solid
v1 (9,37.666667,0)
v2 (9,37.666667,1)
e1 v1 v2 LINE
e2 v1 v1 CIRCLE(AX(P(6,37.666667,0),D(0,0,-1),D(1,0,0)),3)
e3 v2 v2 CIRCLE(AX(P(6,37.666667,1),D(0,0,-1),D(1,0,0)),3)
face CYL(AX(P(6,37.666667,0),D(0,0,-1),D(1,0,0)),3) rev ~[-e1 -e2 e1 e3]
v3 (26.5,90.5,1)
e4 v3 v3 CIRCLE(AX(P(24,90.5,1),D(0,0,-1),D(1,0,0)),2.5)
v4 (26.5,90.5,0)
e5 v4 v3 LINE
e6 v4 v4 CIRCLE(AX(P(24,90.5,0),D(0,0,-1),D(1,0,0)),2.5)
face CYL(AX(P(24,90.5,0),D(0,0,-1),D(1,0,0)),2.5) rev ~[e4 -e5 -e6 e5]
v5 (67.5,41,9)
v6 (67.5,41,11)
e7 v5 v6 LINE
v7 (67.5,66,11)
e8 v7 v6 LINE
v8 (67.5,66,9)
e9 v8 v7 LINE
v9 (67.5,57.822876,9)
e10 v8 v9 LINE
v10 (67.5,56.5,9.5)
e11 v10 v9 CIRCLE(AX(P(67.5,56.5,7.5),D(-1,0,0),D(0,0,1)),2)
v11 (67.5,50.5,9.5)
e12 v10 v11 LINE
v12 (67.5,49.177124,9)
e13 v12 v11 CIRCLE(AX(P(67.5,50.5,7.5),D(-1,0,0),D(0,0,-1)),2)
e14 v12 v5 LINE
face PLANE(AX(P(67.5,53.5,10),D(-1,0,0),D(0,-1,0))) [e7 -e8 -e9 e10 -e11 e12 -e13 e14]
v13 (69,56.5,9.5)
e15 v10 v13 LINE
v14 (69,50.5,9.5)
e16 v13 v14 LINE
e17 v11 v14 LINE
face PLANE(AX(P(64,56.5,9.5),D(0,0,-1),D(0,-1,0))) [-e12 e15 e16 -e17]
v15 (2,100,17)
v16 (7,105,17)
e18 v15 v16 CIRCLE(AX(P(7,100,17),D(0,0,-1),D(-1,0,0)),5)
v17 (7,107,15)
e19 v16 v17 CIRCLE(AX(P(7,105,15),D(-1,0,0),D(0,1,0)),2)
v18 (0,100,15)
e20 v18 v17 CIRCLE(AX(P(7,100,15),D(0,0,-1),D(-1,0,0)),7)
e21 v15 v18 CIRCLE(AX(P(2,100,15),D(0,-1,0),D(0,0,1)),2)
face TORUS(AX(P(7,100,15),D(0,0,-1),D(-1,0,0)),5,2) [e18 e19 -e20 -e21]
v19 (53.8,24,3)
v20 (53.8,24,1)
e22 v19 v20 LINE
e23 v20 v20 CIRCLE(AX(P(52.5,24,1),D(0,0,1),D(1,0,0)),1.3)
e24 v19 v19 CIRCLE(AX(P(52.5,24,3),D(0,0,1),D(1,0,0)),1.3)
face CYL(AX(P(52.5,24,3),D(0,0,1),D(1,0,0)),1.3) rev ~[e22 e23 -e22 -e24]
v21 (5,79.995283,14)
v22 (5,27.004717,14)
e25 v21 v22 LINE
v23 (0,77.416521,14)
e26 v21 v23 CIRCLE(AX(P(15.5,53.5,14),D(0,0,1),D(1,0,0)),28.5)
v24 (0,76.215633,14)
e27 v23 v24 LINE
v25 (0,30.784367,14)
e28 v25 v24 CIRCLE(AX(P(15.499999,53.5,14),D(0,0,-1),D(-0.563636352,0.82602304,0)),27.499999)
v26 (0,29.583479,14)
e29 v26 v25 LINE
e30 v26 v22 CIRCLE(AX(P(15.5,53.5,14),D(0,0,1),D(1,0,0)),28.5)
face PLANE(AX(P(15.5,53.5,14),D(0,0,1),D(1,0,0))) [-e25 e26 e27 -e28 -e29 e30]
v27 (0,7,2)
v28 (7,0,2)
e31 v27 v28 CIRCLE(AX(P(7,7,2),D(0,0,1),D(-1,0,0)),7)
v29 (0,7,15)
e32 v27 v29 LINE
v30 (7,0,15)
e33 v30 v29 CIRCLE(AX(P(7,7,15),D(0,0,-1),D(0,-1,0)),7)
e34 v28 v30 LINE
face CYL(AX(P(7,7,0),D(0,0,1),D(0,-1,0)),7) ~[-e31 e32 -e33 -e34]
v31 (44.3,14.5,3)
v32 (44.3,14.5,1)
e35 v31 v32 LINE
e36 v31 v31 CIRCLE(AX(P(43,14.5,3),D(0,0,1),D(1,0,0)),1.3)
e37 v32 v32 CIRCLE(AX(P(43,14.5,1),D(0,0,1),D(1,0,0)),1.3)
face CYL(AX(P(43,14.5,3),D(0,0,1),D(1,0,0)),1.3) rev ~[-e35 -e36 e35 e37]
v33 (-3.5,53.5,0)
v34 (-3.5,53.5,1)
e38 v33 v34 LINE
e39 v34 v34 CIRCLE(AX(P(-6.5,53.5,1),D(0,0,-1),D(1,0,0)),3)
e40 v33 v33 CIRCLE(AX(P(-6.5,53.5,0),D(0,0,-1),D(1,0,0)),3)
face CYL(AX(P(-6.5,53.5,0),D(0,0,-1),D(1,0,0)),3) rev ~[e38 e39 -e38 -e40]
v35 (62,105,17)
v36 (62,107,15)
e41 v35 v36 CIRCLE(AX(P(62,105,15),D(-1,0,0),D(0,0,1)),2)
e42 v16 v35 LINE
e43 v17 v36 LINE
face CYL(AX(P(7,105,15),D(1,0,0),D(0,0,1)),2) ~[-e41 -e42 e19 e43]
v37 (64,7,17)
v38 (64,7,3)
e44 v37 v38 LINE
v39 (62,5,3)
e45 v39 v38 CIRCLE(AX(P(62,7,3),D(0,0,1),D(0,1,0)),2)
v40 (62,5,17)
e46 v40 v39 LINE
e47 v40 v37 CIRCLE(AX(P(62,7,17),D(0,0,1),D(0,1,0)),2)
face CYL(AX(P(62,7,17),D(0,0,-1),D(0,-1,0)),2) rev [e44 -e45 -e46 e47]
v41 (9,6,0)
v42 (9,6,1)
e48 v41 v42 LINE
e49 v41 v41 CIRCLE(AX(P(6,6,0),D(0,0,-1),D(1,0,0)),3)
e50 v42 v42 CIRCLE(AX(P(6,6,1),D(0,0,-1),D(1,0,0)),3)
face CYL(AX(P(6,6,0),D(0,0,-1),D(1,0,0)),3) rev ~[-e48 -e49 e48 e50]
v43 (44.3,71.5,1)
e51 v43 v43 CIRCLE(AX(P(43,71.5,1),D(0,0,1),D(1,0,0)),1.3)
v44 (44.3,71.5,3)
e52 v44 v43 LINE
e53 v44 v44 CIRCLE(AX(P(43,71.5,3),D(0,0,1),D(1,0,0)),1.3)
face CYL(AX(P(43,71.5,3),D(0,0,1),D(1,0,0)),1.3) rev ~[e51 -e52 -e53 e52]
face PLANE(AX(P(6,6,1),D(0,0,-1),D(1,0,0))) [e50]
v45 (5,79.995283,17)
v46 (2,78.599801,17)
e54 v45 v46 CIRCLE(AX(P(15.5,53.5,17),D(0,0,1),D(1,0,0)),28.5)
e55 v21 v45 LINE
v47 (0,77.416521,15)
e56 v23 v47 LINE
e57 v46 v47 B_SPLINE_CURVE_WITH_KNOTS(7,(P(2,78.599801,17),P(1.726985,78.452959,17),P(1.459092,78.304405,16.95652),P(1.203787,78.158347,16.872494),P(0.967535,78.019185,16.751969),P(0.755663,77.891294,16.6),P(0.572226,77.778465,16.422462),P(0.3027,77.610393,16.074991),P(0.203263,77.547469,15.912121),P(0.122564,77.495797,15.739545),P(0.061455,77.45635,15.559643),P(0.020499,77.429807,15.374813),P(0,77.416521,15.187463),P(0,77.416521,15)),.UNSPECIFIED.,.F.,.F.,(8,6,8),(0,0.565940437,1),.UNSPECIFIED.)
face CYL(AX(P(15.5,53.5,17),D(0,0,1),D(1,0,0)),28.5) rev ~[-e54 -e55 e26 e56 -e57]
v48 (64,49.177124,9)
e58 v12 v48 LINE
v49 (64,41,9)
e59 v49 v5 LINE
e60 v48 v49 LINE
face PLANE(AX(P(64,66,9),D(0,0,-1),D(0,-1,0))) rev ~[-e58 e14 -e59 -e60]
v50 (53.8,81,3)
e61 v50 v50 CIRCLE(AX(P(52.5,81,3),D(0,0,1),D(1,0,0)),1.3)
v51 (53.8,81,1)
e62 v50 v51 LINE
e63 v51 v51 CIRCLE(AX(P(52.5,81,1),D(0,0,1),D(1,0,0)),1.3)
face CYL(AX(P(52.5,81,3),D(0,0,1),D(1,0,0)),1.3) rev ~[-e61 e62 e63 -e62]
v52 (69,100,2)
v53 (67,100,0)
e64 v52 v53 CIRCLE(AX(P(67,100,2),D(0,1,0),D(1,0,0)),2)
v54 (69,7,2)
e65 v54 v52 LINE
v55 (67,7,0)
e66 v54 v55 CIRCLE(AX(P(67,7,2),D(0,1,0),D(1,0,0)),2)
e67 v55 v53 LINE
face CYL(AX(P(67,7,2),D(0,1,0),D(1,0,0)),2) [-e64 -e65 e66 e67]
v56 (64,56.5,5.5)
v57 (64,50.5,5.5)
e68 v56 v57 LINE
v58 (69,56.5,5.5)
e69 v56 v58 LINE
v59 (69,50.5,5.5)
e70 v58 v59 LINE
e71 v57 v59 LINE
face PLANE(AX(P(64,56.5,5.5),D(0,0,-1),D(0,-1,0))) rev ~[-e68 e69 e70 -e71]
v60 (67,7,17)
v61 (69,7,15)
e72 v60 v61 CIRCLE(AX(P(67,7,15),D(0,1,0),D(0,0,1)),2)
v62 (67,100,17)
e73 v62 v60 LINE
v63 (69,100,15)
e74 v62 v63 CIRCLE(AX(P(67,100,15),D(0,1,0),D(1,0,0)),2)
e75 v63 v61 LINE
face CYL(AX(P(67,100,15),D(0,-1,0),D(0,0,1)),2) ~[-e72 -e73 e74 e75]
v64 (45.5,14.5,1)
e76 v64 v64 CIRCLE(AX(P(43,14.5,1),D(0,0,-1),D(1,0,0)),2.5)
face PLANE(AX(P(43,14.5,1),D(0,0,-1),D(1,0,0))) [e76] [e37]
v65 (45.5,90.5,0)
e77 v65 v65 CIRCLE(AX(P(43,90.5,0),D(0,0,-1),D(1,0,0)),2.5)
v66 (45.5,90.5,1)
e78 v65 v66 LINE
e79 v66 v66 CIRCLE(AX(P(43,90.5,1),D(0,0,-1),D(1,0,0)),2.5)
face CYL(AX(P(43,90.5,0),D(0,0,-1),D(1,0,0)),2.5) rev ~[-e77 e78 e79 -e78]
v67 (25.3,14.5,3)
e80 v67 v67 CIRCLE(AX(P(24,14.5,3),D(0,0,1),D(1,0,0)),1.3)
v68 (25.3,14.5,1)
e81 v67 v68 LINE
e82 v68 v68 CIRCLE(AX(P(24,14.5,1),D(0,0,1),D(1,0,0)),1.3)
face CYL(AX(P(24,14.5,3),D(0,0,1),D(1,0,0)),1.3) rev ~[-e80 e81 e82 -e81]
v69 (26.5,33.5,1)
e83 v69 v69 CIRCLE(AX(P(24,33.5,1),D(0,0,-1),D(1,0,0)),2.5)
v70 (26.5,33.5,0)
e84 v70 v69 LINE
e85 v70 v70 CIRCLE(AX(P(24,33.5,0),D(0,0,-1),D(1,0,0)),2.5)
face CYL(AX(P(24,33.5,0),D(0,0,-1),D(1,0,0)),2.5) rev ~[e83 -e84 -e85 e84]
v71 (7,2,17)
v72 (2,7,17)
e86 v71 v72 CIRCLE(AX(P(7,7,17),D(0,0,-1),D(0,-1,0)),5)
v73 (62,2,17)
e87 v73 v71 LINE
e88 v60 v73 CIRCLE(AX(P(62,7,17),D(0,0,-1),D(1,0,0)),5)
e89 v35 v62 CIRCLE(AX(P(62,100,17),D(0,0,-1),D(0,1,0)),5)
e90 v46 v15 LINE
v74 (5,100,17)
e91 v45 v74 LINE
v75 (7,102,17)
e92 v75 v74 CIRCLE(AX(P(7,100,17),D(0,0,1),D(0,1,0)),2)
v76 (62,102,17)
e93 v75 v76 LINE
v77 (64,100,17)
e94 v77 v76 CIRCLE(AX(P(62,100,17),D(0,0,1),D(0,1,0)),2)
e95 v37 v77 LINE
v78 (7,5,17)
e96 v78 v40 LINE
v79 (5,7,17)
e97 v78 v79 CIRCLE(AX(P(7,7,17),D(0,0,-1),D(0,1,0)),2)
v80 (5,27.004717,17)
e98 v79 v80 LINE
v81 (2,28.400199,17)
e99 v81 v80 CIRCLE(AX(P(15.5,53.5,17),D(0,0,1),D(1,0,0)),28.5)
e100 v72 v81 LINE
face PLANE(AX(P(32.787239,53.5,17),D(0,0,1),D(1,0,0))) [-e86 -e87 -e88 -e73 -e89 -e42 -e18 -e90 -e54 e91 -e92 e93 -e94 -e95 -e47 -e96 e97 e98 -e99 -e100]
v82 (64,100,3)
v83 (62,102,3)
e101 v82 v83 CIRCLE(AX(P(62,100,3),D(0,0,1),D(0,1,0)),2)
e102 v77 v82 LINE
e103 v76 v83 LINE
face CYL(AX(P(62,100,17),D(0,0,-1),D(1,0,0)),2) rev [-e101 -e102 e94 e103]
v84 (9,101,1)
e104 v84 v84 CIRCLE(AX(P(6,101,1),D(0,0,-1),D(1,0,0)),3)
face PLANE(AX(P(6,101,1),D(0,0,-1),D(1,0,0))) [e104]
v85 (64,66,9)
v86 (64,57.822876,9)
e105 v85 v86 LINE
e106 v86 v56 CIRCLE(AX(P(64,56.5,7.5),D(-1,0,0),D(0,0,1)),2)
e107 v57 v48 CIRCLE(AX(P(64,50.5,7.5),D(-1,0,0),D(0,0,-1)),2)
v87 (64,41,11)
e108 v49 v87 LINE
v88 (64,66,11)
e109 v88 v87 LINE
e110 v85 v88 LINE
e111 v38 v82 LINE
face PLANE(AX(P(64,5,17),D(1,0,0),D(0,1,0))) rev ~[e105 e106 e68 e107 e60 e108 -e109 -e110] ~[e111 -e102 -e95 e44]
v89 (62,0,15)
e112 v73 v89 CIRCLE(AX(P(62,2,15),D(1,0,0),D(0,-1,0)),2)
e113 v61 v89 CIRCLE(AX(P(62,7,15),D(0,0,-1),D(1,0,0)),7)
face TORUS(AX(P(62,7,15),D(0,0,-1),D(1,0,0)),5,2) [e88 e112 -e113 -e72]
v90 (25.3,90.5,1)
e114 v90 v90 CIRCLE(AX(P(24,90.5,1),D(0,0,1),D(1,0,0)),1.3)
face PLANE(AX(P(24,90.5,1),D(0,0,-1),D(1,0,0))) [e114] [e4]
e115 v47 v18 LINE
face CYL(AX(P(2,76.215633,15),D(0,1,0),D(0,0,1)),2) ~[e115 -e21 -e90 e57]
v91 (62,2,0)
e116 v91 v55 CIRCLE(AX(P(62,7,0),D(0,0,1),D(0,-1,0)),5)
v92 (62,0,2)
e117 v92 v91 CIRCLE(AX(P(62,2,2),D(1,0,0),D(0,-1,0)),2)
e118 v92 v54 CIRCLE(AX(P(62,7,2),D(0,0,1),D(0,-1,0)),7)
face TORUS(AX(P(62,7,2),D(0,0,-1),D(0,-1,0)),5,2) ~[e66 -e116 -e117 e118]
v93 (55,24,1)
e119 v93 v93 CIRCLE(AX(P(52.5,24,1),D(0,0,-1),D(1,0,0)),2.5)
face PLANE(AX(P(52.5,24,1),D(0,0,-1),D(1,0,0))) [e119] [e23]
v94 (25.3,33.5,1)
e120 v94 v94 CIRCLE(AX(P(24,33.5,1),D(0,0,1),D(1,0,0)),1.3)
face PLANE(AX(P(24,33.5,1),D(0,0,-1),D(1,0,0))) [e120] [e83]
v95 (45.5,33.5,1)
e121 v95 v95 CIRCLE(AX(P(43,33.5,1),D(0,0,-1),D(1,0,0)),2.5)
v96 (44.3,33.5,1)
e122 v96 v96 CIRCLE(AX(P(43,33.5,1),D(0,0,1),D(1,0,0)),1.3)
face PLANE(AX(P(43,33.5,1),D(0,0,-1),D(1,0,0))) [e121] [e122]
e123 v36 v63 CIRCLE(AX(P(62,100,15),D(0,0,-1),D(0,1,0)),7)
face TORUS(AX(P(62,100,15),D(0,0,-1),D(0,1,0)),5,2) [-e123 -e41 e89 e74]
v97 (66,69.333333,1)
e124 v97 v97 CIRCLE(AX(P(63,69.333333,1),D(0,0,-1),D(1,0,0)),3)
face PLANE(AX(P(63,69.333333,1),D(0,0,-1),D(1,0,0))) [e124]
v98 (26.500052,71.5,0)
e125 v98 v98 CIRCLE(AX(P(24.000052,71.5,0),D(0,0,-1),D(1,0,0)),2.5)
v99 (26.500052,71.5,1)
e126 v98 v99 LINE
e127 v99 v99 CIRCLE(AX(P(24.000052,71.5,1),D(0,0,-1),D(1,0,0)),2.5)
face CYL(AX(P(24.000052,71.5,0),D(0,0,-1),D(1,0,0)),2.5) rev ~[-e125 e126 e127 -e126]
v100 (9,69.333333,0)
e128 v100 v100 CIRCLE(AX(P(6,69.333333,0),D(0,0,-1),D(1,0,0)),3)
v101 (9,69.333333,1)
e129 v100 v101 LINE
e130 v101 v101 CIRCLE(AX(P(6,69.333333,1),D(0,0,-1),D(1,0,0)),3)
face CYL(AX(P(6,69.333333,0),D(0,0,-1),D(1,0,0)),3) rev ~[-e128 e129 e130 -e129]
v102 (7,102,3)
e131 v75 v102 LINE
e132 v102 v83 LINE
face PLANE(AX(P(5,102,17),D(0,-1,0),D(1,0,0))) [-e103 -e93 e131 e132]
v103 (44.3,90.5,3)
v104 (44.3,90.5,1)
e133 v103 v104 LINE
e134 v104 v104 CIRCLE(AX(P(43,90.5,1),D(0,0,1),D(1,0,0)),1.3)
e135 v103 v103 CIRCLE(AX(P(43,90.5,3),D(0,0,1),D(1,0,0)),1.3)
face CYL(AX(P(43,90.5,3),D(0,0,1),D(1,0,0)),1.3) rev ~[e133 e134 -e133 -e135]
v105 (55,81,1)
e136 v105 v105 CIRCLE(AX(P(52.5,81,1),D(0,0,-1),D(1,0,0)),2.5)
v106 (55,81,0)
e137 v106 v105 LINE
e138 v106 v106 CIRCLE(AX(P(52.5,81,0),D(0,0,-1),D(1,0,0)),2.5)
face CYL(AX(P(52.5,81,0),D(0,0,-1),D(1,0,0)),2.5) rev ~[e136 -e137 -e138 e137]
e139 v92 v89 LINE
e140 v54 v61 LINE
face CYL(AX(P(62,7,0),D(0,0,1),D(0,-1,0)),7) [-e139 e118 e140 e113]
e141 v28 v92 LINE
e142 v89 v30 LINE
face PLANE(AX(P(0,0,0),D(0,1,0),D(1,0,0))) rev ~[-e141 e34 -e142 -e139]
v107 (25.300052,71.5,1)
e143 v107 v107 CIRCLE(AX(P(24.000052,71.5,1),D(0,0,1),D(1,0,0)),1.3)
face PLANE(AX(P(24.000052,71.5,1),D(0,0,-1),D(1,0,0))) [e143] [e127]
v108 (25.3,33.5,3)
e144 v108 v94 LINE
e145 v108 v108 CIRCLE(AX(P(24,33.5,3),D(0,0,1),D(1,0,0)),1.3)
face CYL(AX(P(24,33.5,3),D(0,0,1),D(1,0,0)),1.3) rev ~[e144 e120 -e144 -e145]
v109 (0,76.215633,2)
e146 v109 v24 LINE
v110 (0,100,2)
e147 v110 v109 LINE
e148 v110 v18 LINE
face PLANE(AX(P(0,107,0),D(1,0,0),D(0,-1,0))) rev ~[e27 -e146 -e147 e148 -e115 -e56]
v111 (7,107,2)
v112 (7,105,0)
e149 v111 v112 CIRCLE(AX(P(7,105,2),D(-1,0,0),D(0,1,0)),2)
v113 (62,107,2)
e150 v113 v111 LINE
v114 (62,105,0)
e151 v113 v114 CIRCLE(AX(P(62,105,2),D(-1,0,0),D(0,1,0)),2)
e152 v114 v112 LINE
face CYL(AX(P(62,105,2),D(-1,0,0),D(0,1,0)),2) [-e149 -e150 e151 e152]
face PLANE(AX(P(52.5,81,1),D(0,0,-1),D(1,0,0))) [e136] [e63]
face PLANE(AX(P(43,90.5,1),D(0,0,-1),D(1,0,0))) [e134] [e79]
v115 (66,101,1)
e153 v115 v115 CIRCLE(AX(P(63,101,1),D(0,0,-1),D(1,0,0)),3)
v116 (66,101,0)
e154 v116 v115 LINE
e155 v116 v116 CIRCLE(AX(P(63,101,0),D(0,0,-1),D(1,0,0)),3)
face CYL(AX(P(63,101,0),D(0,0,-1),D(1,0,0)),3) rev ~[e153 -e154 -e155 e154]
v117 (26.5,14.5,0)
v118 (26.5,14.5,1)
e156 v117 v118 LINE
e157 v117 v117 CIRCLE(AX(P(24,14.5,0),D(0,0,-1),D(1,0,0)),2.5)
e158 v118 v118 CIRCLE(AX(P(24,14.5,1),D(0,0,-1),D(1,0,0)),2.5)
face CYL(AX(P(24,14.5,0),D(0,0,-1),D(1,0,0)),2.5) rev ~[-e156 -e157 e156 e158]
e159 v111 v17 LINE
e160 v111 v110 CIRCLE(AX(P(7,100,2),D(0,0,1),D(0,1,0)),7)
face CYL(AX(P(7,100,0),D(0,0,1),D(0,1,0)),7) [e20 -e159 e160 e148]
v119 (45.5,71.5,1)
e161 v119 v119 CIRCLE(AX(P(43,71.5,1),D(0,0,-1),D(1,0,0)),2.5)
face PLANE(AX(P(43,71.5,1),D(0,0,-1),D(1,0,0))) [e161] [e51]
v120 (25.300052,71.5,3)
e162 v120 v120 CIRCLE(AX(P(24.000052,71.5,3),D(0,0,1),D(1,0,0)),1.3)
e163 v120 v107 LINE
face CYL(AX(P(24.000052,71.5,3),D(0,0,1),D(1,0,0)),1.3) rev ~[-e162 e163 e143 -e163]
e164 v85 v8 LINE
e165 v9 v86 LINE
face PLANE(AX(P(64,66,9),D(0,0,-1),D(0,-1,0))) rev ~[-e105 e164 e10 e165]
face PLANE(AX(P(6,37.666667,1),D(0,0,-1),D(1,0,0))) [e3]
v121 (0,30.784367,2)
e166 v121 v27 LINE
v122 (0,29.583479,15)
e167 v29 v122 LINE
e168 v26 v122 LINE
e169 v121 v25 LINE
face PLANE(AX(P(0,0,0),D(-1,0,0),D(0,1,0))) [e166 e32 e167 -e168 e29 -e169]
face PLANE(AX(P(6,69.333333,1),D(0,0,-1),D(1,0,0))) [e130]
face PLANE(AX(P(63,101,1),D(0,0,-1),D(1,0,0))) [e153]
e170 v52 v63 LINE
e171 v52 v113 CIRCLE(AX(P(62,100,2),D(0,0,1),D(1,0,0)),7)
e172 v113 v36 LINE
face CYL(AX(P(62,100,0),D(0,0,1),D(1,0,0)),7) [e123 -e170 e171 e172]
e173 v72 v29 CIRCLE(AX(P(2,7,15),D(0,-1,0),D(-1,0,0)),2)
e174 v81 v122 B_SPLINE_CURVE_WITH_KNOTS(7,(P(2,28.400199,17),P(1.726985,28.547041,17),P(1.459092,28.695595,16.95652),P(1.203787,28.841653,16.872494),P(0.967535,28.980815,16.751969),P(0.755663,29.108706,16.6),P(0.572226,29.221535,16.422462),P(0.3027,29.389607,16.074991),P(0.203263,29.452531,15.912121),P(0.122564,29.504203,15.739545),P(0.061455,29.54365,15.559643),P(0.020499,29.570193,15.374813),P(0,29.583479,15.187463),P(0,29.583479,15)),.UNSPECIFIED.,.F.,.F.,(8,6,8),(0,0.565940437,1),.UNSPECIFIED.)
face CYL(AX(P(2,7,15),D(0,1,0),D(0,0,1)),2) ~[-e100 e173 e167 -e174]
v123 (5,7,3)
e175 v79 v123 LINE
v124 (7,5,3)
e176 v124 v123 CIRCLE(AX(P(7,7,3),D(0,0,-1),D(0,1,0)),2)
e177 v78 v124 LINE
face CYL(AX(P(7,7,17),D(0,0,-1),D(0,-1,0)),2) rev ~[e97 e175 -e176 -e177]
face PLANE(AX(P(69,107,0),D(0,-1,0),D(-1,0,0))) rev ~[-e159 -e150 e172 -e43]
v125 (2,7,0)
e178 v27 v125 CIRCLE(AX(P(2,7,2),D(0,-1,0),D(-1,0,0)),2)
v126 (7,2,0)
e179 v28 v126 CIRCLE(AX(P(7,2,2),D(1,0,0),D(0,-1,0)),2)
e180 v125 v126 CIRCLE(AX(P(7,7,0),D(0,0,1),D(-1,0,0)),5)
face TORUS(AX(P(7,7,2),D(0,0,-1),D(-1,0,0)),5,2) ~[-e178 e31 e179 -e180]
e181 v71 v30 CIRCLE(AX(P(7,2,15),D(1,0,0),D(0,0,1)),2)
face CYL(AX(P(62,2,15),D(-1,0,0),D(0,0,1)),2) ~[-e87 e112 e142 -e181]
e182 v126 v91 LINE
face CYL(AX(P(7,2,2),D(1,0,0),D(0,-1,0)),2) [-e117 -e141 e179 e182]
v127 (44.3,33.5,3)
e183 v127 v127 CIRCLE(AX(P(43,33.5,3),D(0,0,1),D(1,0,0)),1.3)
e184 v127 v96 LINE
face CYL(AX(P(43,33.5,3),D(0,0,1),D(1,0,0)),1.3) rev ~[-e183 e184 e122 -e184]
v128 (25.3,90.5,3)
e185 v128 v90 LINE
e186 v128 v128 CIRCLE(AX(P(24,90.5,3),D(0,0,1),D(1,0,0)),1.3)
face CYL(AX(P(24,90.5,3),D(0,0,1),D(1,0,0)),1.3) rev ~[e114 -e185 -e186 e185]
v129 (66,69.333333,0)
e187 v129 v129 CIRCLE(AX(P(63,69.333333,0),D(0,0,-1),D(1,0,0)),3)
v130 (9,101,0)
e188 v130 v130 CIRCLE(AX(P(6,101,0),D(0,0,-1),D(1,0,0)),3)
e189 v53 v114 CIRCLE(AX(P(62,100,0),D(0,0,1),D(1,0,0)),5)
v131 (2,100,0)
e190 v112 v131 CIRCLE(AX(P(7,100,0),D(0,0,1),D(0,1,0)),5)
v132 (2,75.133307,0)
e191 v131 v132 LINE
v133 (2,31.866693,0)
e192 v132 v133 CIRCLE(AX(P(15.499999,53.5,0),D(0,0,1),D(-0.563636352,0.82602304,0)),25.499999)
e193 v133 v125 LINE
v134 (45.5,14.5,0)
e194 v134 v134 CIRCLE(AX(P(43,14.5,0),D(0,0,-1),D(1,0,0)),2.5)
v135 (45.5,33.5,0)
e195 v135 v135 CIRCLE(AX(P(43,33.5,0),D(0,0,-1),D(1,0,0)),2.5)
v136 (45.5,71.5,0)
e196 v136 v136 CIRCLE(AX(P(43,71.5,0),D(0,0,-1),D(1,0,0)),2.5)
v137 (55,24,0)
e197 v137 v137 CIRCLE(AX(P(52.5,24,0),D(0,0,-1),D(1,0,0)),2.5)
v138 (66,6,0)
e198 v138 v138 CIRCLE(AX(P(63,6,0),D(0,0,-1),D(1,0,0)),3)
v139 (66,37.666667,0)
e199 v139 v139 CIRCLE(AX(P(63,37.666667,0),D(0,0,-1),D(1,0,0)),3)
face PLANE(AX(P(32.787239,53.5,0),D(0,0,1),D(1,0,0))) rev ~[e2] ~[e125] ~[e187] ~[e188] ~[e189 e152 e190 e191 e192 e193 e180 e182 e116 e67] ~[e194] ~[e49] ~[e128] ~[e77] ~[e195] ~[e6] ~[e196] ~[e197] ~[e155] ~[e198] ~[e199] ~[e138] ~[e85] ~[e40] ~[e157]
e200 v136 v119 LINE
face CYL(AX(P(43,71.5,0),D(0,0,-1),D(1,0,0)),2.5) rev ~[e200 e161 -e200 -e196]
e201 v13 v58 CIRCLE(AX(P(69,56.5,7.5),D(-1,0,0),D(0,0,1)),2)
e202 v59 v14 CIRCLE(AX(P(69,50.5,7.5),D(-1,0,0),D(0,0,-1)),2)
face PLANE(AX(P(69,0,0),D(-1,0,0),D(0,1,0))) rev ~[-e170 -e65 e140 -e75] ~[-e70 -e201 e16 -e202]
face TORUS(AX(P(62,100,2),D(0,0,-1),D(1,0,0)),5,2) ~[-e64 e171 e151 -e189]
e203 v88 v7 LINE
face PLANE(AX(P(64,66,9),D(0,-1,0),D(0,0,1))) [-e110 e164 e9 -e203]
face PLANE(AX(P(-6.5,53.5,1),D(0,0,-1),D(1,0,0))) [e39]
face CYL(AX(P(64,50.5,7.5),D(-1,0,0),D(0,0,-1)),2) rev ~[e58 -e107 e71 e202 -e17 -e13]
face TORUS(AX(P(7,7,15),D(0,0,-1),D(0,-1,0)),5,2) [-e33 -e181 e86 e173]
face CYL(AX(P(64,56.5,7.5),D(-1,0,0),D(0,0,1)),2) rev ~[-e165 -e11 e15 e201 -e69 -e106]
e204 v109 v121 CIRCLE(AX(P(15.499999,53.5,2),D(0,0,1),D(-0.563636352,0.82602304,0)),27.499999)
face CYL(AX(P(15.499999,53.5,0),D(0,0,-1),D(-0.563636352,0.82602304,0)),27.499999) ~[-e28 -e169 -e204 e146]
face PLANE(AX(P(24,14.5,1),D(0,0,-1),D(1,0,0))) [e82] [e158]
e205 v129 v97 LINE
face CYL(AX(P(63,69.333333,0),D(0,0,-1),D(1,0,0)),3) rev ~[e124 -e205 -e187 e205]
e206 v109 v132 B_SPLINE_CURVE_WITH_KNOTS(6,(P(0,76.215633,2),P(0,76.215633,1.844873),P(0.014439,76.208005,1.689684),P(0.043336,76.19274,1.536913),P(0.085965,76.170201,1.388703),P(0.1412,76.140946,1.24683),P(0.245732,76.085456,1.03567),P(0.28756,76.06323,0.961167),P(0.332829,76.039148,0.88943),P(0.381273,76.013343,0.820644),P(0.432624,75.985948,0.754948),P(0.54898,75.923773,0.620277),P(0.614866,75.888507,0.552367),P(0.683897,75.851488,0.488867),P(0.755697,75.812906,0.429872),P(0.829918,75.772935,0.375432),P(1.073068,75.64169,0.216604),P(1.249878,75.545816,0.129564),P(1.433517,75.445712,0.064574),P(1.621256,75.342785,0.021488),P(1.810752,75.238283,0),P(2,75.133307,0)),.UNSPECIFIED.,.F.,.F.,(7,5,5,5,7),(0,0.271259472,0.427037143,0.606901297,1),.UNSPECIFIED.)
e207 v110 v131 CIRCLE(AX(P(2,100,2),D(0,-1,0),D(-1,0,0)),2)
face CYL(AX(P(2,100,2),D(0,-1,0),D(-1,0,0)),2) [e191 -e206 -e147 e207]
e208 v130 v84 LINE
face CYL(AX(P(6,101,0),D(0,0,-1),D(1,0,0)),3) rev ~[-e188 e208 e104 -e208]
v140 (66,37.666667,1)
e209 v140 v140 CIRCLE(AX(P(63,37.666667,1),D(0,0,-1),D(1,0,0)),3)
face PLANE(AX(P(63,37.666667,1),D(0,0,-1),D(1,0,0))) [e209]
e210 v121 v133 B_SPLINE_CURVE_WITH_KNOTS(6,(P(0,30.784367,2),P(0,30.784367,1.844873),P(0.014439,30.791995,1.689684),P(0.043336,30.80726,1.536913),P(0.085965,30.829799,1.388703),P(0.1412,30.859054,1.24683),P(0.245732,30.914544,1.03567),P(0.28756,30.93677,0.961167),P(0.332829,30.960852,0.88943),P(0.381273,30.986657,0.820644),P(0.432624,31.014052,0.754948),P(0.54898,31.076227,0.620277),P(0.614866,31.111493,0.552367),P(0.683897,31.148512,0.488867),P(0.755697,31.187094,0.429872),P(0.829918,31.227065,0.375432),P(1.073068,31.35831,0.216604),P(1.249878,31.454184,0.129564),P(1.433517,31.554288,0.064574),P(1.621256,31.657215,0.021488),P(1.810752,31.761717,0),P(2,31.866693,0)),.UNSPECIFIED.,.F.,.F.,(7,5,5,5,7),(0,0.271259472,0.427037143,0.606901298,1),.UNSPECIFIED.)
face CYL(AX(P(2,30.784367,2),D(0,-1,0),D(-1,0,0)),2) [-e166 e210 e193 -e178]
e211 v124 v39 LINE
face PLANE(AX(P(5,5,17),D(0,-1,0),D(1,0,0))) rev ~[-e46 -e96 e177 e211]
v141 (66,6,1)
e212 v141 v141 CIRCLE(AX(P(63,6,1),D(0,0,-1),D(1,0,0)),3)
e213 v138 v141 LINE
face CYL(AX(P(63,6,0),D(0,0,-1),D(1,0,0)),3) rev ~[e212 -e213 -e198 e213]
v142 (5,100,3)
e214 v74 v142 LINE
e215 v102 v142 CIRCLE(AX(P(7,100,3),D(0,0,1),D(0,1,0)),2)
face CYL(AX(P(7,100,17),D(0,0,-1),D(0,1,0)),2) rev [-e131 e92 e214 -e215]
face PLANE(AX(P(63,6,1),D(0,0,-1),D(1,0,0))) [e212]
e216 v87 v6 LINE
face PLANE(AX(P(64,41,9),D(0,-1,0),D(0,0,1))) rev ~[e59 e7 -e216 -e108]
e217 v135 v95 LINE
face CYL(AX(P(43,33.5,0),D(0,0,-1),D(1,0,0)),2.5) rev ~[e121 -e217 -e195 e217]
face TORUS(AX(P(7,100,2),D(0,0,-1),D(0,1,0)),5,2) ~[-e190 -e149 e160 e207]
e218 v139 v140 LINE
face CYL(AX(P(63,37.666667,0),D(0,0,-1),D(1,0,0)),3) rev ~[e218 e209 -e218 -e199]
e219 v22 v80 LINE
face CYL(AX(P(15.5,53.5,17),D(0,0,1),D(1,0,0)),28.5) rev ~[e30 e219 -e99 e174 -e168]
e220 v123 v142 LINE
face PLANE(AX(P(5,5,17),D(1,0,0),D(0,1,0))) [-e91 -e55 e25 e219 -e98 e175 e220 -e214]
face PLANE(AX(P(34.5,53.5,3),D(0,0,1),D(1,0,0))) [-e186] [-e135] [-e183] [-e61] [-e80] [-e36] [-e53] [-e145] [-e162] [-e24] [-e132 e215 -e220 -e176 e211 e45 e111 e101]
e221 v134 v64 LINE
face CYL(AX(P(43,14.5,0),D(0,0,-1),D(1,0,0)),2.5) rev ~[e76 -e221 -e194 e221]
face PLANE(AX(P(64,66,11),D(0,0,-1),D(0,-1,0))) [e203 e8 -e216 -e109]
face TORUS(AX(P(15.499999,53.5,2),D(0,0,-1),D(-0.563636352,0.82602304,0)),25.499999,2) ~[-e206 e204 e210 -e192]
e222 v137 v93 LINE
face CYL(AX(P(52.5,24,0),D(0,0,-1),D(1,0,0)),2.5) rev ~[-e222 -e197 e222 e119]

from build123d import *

# Parameters (mm, degrees)
PAD001_DEPTH    = 17
SKETCH003_W     = 59
SKETCH003_H     = 97
POCKET001_DEPTH = 14
SKETCH004_R     = 3
POCKET002_DEPTH = 1
SKETCH005_R     = 1.3
POCKET003_DEPTH = 3
SKETCH006_R     = 2.5
POCKET004_DEPTH = 1
FILLET001_R     = 7
FILLET002_R     = 2
FILLET003_R     = 2
SKETCH007_R     = 28.5
POCKET005_DEPTH = 3
SKETCH012_W     = 25
SKETCH012_H     = 2
POCKET007_DEPTH = 3.5
POCKET008_DEPTH = 6


with BuildPart() as part:
    # Sketch002 → Pad001 (new body)
    with BuildSketch(Plane.XY):
        with BuildLine():
            Line((0, 0), (69, 0))
            Line((69, 0), (69, 107))
            Line((69, 107), (0, 107))
            Line((0, 107), (0, 76.215633))
            ThreePointArc((0, 76.215633), (-12, 53.5), (0, 30.784367))
            Line((0, 0), (0, 30.784367))
        make_face()
    extrude(amount=PAD001_DEPTH)

    # Sketch003 (on Face8 of Pad001) → Pocket001 (cut)
    with BuildSketch(Plane.XY.offset(17)):
        with Locations((34.5, 53.5)):
            Rectangle(SKETCH003_W, SKETCH003_H)
    extrude(amount=-POCKET001_DEPTH, mode=Mode.SUBTRACT)

    # Sketch004 (on Face4 of Pocket001) → Pocket002 (cut)
    with BuildSketch(Plane(origin=(0, 0, 0), x_dir=(1, 0, 0), z_dir=(0, 0, -1))):
        with Locations((6, -6)):
            Circle(SKETCH004_R)
        with Locations((63, -6)):
            Circle(SKETCH004_R)
        with Locations((6, -101)):
            Circle(SKETCH004_R)
        with Locations((63, -101)):
            Circle(SKETCH004_R)
        with Locations((6, -37.666667)):
            Circle(SKETCH004_R)
        with Locations((6, -69.333333)):
            Circle(SKETCH004_R)
        with Locations((63, -37.666667)):
            Circle(SKETCH004_R)
        with Locations((63, -69.333333)):
            Circle(SKETCH004_R)
        with Locations((-6.5, -53.5)):
            Circle(SKETCH004_R)
    extrude(amount=-POCKET002_DEPTH, mode=Mode.SUBTRACT)

    # Sketch005 (on Face31 of Pocket002) → Pocket003 (cut)
    with BuildSketch(Plane.XY.offset(3)):
        with Locations((24, 14.5)):
            Circle(SKETCH005_R)
        with Locations((43, 14.5)):
            Circle(SKETCH005_R)
        with Locations((52.5, 24)):
            Circle(SKETCH005_R)
        with Locations((43, 33.5)):
            Circle(SKETCH005_R)
        with Locations((24, 33.5)):
            Circle(SKETCH005_R)
        with Locations((24.000052, 71.5)):
            Circle(SKETCH005_R)
        with Locations((43, 71.5)):
            Circle(SKETCH005_R)
        with Locations((43, 90.5)):
            Circle(SKETCH005_R)
        with Locations((24, 90.5)):
            Circle(SKETCH005_R)
        with Locations((52.5, 81)):
            Circle(SKETCH005_R)
    extrude(amount=-POCKET003_DEPTH, mode=Mode.SUBTRACT)

    # Sketch006 (on Face4 of Pocket003) → Pocket004 (cut)
    with BuildSketch(Plane(origin=(0, 0, 0), x_dir=(1, 0, 0), z_dir=(0, 0, -1))):
        with Locations((24, -14.5)):
            Circle(SKETCH006_R)
        with Locations((43, -14.5)):
            Circle(SKETCH006_R)
        with Locations((52.5, -24)):
            Circle(SKETCH006_R)
        with Locations((43, -33.5)):
            Circle(SKETCH006_R)
        with Locations((24, -33.5)):
            Circle(SKETCH006_R)
        with Locations((52.5, -81)):
            Circle(SKETCH006_R)
        with Locations((43, -71.5)):
            Circle(SKETCH006_R)
        with Locations((24.000052, -71.5)):
            Circle(SKETCH006_R)
        with Locations((24, -90.5)):
            Circle(SKETCH006_R)
        with Locations((43, -90.5)):
            Circle(SKETCH006_R)
    extrude(amount=-POCKET004_DEPTH, mode=Mode.SUBTRACT)

    # Fillet001
    fillet001_edges = [part.edges().sort_by_distance(p)[0] for p in [
        (69, 0, 8.5),
        (0, 0, 8.5),
        (69, 107, 8.5),
        (0, 107, 8.5),
    ]]
    fillet(fillet001_edges, radius=FILLET001_R)

    # Fillet002
    fillet002_edges = [part.edges().sort_by_distance(p)[0] for p in [
        (64, 102, 10),
        (64, 5, 10),
        (5, 5, 10),
        (5, 102, 10),
    ]]
    fillet(fillet002_edges, radius=FILLET002_R)

    # Fillet003
    fillet003_edges = [part.edges().sort_by_distance(p)[0] for p in [
        (34.5, 0, 0),
        (-12, 53.5, 0),
        (0, 18.892183, 17),
    ]]
    fillet(fillet003_edges, radius=FILLET003_R)

    # Sketch007 (on Face1 of Fillet003) → Pocket005 (cut)
    with BuildSketch(Plane.XY.offset(17)):
        with Locations((15.5, 53.5)):
            Circle(SKETCH007_R)
    extrude(amount=-POCKET005_DEPTH, mode=Mode.SUBTRACT)

    # Sketch012 (on Face16 of Pocket005) → Pocket007 (cut)
    with BuildSketch(Plane(origin=(64, 0, 0), x_dir=(0, -1, 0), z_dir=(-1, 0, 0))):
        with Locations((-53.5, 10)):
            Rectangle(SKETCH012_W, SKETCH012_H)
    extrude(amount=-POCKET007_DEPTH, mode=Mode.SUBTRACT)

    # Sketch013 (on Face16 of Pocket007) → Pocket008 (cut)
    with BuildSketch(Plane(origin=(64, 0, 0), x_dir=(0, -1, 0), z_dir=(-1, 0, 0))):
        with BuildLine():
            Line((-56.5, 9.5), (-50.5, 9.5))
            ThreePointArc((-50.5, 5.5), (-48.5, 7.5), (-50.5, 9.5))
            Line((-56.5, 5.5), (-50.5, 5.5))
            ThreePointArc((-56.5, 9.5), (-58.5, 7.5), (-56.5, 5.5))
        make_face()
    extrude(amount=-POCKET008_DEPTH, mode=Mode.SUBTRACT)


solid = part.part
